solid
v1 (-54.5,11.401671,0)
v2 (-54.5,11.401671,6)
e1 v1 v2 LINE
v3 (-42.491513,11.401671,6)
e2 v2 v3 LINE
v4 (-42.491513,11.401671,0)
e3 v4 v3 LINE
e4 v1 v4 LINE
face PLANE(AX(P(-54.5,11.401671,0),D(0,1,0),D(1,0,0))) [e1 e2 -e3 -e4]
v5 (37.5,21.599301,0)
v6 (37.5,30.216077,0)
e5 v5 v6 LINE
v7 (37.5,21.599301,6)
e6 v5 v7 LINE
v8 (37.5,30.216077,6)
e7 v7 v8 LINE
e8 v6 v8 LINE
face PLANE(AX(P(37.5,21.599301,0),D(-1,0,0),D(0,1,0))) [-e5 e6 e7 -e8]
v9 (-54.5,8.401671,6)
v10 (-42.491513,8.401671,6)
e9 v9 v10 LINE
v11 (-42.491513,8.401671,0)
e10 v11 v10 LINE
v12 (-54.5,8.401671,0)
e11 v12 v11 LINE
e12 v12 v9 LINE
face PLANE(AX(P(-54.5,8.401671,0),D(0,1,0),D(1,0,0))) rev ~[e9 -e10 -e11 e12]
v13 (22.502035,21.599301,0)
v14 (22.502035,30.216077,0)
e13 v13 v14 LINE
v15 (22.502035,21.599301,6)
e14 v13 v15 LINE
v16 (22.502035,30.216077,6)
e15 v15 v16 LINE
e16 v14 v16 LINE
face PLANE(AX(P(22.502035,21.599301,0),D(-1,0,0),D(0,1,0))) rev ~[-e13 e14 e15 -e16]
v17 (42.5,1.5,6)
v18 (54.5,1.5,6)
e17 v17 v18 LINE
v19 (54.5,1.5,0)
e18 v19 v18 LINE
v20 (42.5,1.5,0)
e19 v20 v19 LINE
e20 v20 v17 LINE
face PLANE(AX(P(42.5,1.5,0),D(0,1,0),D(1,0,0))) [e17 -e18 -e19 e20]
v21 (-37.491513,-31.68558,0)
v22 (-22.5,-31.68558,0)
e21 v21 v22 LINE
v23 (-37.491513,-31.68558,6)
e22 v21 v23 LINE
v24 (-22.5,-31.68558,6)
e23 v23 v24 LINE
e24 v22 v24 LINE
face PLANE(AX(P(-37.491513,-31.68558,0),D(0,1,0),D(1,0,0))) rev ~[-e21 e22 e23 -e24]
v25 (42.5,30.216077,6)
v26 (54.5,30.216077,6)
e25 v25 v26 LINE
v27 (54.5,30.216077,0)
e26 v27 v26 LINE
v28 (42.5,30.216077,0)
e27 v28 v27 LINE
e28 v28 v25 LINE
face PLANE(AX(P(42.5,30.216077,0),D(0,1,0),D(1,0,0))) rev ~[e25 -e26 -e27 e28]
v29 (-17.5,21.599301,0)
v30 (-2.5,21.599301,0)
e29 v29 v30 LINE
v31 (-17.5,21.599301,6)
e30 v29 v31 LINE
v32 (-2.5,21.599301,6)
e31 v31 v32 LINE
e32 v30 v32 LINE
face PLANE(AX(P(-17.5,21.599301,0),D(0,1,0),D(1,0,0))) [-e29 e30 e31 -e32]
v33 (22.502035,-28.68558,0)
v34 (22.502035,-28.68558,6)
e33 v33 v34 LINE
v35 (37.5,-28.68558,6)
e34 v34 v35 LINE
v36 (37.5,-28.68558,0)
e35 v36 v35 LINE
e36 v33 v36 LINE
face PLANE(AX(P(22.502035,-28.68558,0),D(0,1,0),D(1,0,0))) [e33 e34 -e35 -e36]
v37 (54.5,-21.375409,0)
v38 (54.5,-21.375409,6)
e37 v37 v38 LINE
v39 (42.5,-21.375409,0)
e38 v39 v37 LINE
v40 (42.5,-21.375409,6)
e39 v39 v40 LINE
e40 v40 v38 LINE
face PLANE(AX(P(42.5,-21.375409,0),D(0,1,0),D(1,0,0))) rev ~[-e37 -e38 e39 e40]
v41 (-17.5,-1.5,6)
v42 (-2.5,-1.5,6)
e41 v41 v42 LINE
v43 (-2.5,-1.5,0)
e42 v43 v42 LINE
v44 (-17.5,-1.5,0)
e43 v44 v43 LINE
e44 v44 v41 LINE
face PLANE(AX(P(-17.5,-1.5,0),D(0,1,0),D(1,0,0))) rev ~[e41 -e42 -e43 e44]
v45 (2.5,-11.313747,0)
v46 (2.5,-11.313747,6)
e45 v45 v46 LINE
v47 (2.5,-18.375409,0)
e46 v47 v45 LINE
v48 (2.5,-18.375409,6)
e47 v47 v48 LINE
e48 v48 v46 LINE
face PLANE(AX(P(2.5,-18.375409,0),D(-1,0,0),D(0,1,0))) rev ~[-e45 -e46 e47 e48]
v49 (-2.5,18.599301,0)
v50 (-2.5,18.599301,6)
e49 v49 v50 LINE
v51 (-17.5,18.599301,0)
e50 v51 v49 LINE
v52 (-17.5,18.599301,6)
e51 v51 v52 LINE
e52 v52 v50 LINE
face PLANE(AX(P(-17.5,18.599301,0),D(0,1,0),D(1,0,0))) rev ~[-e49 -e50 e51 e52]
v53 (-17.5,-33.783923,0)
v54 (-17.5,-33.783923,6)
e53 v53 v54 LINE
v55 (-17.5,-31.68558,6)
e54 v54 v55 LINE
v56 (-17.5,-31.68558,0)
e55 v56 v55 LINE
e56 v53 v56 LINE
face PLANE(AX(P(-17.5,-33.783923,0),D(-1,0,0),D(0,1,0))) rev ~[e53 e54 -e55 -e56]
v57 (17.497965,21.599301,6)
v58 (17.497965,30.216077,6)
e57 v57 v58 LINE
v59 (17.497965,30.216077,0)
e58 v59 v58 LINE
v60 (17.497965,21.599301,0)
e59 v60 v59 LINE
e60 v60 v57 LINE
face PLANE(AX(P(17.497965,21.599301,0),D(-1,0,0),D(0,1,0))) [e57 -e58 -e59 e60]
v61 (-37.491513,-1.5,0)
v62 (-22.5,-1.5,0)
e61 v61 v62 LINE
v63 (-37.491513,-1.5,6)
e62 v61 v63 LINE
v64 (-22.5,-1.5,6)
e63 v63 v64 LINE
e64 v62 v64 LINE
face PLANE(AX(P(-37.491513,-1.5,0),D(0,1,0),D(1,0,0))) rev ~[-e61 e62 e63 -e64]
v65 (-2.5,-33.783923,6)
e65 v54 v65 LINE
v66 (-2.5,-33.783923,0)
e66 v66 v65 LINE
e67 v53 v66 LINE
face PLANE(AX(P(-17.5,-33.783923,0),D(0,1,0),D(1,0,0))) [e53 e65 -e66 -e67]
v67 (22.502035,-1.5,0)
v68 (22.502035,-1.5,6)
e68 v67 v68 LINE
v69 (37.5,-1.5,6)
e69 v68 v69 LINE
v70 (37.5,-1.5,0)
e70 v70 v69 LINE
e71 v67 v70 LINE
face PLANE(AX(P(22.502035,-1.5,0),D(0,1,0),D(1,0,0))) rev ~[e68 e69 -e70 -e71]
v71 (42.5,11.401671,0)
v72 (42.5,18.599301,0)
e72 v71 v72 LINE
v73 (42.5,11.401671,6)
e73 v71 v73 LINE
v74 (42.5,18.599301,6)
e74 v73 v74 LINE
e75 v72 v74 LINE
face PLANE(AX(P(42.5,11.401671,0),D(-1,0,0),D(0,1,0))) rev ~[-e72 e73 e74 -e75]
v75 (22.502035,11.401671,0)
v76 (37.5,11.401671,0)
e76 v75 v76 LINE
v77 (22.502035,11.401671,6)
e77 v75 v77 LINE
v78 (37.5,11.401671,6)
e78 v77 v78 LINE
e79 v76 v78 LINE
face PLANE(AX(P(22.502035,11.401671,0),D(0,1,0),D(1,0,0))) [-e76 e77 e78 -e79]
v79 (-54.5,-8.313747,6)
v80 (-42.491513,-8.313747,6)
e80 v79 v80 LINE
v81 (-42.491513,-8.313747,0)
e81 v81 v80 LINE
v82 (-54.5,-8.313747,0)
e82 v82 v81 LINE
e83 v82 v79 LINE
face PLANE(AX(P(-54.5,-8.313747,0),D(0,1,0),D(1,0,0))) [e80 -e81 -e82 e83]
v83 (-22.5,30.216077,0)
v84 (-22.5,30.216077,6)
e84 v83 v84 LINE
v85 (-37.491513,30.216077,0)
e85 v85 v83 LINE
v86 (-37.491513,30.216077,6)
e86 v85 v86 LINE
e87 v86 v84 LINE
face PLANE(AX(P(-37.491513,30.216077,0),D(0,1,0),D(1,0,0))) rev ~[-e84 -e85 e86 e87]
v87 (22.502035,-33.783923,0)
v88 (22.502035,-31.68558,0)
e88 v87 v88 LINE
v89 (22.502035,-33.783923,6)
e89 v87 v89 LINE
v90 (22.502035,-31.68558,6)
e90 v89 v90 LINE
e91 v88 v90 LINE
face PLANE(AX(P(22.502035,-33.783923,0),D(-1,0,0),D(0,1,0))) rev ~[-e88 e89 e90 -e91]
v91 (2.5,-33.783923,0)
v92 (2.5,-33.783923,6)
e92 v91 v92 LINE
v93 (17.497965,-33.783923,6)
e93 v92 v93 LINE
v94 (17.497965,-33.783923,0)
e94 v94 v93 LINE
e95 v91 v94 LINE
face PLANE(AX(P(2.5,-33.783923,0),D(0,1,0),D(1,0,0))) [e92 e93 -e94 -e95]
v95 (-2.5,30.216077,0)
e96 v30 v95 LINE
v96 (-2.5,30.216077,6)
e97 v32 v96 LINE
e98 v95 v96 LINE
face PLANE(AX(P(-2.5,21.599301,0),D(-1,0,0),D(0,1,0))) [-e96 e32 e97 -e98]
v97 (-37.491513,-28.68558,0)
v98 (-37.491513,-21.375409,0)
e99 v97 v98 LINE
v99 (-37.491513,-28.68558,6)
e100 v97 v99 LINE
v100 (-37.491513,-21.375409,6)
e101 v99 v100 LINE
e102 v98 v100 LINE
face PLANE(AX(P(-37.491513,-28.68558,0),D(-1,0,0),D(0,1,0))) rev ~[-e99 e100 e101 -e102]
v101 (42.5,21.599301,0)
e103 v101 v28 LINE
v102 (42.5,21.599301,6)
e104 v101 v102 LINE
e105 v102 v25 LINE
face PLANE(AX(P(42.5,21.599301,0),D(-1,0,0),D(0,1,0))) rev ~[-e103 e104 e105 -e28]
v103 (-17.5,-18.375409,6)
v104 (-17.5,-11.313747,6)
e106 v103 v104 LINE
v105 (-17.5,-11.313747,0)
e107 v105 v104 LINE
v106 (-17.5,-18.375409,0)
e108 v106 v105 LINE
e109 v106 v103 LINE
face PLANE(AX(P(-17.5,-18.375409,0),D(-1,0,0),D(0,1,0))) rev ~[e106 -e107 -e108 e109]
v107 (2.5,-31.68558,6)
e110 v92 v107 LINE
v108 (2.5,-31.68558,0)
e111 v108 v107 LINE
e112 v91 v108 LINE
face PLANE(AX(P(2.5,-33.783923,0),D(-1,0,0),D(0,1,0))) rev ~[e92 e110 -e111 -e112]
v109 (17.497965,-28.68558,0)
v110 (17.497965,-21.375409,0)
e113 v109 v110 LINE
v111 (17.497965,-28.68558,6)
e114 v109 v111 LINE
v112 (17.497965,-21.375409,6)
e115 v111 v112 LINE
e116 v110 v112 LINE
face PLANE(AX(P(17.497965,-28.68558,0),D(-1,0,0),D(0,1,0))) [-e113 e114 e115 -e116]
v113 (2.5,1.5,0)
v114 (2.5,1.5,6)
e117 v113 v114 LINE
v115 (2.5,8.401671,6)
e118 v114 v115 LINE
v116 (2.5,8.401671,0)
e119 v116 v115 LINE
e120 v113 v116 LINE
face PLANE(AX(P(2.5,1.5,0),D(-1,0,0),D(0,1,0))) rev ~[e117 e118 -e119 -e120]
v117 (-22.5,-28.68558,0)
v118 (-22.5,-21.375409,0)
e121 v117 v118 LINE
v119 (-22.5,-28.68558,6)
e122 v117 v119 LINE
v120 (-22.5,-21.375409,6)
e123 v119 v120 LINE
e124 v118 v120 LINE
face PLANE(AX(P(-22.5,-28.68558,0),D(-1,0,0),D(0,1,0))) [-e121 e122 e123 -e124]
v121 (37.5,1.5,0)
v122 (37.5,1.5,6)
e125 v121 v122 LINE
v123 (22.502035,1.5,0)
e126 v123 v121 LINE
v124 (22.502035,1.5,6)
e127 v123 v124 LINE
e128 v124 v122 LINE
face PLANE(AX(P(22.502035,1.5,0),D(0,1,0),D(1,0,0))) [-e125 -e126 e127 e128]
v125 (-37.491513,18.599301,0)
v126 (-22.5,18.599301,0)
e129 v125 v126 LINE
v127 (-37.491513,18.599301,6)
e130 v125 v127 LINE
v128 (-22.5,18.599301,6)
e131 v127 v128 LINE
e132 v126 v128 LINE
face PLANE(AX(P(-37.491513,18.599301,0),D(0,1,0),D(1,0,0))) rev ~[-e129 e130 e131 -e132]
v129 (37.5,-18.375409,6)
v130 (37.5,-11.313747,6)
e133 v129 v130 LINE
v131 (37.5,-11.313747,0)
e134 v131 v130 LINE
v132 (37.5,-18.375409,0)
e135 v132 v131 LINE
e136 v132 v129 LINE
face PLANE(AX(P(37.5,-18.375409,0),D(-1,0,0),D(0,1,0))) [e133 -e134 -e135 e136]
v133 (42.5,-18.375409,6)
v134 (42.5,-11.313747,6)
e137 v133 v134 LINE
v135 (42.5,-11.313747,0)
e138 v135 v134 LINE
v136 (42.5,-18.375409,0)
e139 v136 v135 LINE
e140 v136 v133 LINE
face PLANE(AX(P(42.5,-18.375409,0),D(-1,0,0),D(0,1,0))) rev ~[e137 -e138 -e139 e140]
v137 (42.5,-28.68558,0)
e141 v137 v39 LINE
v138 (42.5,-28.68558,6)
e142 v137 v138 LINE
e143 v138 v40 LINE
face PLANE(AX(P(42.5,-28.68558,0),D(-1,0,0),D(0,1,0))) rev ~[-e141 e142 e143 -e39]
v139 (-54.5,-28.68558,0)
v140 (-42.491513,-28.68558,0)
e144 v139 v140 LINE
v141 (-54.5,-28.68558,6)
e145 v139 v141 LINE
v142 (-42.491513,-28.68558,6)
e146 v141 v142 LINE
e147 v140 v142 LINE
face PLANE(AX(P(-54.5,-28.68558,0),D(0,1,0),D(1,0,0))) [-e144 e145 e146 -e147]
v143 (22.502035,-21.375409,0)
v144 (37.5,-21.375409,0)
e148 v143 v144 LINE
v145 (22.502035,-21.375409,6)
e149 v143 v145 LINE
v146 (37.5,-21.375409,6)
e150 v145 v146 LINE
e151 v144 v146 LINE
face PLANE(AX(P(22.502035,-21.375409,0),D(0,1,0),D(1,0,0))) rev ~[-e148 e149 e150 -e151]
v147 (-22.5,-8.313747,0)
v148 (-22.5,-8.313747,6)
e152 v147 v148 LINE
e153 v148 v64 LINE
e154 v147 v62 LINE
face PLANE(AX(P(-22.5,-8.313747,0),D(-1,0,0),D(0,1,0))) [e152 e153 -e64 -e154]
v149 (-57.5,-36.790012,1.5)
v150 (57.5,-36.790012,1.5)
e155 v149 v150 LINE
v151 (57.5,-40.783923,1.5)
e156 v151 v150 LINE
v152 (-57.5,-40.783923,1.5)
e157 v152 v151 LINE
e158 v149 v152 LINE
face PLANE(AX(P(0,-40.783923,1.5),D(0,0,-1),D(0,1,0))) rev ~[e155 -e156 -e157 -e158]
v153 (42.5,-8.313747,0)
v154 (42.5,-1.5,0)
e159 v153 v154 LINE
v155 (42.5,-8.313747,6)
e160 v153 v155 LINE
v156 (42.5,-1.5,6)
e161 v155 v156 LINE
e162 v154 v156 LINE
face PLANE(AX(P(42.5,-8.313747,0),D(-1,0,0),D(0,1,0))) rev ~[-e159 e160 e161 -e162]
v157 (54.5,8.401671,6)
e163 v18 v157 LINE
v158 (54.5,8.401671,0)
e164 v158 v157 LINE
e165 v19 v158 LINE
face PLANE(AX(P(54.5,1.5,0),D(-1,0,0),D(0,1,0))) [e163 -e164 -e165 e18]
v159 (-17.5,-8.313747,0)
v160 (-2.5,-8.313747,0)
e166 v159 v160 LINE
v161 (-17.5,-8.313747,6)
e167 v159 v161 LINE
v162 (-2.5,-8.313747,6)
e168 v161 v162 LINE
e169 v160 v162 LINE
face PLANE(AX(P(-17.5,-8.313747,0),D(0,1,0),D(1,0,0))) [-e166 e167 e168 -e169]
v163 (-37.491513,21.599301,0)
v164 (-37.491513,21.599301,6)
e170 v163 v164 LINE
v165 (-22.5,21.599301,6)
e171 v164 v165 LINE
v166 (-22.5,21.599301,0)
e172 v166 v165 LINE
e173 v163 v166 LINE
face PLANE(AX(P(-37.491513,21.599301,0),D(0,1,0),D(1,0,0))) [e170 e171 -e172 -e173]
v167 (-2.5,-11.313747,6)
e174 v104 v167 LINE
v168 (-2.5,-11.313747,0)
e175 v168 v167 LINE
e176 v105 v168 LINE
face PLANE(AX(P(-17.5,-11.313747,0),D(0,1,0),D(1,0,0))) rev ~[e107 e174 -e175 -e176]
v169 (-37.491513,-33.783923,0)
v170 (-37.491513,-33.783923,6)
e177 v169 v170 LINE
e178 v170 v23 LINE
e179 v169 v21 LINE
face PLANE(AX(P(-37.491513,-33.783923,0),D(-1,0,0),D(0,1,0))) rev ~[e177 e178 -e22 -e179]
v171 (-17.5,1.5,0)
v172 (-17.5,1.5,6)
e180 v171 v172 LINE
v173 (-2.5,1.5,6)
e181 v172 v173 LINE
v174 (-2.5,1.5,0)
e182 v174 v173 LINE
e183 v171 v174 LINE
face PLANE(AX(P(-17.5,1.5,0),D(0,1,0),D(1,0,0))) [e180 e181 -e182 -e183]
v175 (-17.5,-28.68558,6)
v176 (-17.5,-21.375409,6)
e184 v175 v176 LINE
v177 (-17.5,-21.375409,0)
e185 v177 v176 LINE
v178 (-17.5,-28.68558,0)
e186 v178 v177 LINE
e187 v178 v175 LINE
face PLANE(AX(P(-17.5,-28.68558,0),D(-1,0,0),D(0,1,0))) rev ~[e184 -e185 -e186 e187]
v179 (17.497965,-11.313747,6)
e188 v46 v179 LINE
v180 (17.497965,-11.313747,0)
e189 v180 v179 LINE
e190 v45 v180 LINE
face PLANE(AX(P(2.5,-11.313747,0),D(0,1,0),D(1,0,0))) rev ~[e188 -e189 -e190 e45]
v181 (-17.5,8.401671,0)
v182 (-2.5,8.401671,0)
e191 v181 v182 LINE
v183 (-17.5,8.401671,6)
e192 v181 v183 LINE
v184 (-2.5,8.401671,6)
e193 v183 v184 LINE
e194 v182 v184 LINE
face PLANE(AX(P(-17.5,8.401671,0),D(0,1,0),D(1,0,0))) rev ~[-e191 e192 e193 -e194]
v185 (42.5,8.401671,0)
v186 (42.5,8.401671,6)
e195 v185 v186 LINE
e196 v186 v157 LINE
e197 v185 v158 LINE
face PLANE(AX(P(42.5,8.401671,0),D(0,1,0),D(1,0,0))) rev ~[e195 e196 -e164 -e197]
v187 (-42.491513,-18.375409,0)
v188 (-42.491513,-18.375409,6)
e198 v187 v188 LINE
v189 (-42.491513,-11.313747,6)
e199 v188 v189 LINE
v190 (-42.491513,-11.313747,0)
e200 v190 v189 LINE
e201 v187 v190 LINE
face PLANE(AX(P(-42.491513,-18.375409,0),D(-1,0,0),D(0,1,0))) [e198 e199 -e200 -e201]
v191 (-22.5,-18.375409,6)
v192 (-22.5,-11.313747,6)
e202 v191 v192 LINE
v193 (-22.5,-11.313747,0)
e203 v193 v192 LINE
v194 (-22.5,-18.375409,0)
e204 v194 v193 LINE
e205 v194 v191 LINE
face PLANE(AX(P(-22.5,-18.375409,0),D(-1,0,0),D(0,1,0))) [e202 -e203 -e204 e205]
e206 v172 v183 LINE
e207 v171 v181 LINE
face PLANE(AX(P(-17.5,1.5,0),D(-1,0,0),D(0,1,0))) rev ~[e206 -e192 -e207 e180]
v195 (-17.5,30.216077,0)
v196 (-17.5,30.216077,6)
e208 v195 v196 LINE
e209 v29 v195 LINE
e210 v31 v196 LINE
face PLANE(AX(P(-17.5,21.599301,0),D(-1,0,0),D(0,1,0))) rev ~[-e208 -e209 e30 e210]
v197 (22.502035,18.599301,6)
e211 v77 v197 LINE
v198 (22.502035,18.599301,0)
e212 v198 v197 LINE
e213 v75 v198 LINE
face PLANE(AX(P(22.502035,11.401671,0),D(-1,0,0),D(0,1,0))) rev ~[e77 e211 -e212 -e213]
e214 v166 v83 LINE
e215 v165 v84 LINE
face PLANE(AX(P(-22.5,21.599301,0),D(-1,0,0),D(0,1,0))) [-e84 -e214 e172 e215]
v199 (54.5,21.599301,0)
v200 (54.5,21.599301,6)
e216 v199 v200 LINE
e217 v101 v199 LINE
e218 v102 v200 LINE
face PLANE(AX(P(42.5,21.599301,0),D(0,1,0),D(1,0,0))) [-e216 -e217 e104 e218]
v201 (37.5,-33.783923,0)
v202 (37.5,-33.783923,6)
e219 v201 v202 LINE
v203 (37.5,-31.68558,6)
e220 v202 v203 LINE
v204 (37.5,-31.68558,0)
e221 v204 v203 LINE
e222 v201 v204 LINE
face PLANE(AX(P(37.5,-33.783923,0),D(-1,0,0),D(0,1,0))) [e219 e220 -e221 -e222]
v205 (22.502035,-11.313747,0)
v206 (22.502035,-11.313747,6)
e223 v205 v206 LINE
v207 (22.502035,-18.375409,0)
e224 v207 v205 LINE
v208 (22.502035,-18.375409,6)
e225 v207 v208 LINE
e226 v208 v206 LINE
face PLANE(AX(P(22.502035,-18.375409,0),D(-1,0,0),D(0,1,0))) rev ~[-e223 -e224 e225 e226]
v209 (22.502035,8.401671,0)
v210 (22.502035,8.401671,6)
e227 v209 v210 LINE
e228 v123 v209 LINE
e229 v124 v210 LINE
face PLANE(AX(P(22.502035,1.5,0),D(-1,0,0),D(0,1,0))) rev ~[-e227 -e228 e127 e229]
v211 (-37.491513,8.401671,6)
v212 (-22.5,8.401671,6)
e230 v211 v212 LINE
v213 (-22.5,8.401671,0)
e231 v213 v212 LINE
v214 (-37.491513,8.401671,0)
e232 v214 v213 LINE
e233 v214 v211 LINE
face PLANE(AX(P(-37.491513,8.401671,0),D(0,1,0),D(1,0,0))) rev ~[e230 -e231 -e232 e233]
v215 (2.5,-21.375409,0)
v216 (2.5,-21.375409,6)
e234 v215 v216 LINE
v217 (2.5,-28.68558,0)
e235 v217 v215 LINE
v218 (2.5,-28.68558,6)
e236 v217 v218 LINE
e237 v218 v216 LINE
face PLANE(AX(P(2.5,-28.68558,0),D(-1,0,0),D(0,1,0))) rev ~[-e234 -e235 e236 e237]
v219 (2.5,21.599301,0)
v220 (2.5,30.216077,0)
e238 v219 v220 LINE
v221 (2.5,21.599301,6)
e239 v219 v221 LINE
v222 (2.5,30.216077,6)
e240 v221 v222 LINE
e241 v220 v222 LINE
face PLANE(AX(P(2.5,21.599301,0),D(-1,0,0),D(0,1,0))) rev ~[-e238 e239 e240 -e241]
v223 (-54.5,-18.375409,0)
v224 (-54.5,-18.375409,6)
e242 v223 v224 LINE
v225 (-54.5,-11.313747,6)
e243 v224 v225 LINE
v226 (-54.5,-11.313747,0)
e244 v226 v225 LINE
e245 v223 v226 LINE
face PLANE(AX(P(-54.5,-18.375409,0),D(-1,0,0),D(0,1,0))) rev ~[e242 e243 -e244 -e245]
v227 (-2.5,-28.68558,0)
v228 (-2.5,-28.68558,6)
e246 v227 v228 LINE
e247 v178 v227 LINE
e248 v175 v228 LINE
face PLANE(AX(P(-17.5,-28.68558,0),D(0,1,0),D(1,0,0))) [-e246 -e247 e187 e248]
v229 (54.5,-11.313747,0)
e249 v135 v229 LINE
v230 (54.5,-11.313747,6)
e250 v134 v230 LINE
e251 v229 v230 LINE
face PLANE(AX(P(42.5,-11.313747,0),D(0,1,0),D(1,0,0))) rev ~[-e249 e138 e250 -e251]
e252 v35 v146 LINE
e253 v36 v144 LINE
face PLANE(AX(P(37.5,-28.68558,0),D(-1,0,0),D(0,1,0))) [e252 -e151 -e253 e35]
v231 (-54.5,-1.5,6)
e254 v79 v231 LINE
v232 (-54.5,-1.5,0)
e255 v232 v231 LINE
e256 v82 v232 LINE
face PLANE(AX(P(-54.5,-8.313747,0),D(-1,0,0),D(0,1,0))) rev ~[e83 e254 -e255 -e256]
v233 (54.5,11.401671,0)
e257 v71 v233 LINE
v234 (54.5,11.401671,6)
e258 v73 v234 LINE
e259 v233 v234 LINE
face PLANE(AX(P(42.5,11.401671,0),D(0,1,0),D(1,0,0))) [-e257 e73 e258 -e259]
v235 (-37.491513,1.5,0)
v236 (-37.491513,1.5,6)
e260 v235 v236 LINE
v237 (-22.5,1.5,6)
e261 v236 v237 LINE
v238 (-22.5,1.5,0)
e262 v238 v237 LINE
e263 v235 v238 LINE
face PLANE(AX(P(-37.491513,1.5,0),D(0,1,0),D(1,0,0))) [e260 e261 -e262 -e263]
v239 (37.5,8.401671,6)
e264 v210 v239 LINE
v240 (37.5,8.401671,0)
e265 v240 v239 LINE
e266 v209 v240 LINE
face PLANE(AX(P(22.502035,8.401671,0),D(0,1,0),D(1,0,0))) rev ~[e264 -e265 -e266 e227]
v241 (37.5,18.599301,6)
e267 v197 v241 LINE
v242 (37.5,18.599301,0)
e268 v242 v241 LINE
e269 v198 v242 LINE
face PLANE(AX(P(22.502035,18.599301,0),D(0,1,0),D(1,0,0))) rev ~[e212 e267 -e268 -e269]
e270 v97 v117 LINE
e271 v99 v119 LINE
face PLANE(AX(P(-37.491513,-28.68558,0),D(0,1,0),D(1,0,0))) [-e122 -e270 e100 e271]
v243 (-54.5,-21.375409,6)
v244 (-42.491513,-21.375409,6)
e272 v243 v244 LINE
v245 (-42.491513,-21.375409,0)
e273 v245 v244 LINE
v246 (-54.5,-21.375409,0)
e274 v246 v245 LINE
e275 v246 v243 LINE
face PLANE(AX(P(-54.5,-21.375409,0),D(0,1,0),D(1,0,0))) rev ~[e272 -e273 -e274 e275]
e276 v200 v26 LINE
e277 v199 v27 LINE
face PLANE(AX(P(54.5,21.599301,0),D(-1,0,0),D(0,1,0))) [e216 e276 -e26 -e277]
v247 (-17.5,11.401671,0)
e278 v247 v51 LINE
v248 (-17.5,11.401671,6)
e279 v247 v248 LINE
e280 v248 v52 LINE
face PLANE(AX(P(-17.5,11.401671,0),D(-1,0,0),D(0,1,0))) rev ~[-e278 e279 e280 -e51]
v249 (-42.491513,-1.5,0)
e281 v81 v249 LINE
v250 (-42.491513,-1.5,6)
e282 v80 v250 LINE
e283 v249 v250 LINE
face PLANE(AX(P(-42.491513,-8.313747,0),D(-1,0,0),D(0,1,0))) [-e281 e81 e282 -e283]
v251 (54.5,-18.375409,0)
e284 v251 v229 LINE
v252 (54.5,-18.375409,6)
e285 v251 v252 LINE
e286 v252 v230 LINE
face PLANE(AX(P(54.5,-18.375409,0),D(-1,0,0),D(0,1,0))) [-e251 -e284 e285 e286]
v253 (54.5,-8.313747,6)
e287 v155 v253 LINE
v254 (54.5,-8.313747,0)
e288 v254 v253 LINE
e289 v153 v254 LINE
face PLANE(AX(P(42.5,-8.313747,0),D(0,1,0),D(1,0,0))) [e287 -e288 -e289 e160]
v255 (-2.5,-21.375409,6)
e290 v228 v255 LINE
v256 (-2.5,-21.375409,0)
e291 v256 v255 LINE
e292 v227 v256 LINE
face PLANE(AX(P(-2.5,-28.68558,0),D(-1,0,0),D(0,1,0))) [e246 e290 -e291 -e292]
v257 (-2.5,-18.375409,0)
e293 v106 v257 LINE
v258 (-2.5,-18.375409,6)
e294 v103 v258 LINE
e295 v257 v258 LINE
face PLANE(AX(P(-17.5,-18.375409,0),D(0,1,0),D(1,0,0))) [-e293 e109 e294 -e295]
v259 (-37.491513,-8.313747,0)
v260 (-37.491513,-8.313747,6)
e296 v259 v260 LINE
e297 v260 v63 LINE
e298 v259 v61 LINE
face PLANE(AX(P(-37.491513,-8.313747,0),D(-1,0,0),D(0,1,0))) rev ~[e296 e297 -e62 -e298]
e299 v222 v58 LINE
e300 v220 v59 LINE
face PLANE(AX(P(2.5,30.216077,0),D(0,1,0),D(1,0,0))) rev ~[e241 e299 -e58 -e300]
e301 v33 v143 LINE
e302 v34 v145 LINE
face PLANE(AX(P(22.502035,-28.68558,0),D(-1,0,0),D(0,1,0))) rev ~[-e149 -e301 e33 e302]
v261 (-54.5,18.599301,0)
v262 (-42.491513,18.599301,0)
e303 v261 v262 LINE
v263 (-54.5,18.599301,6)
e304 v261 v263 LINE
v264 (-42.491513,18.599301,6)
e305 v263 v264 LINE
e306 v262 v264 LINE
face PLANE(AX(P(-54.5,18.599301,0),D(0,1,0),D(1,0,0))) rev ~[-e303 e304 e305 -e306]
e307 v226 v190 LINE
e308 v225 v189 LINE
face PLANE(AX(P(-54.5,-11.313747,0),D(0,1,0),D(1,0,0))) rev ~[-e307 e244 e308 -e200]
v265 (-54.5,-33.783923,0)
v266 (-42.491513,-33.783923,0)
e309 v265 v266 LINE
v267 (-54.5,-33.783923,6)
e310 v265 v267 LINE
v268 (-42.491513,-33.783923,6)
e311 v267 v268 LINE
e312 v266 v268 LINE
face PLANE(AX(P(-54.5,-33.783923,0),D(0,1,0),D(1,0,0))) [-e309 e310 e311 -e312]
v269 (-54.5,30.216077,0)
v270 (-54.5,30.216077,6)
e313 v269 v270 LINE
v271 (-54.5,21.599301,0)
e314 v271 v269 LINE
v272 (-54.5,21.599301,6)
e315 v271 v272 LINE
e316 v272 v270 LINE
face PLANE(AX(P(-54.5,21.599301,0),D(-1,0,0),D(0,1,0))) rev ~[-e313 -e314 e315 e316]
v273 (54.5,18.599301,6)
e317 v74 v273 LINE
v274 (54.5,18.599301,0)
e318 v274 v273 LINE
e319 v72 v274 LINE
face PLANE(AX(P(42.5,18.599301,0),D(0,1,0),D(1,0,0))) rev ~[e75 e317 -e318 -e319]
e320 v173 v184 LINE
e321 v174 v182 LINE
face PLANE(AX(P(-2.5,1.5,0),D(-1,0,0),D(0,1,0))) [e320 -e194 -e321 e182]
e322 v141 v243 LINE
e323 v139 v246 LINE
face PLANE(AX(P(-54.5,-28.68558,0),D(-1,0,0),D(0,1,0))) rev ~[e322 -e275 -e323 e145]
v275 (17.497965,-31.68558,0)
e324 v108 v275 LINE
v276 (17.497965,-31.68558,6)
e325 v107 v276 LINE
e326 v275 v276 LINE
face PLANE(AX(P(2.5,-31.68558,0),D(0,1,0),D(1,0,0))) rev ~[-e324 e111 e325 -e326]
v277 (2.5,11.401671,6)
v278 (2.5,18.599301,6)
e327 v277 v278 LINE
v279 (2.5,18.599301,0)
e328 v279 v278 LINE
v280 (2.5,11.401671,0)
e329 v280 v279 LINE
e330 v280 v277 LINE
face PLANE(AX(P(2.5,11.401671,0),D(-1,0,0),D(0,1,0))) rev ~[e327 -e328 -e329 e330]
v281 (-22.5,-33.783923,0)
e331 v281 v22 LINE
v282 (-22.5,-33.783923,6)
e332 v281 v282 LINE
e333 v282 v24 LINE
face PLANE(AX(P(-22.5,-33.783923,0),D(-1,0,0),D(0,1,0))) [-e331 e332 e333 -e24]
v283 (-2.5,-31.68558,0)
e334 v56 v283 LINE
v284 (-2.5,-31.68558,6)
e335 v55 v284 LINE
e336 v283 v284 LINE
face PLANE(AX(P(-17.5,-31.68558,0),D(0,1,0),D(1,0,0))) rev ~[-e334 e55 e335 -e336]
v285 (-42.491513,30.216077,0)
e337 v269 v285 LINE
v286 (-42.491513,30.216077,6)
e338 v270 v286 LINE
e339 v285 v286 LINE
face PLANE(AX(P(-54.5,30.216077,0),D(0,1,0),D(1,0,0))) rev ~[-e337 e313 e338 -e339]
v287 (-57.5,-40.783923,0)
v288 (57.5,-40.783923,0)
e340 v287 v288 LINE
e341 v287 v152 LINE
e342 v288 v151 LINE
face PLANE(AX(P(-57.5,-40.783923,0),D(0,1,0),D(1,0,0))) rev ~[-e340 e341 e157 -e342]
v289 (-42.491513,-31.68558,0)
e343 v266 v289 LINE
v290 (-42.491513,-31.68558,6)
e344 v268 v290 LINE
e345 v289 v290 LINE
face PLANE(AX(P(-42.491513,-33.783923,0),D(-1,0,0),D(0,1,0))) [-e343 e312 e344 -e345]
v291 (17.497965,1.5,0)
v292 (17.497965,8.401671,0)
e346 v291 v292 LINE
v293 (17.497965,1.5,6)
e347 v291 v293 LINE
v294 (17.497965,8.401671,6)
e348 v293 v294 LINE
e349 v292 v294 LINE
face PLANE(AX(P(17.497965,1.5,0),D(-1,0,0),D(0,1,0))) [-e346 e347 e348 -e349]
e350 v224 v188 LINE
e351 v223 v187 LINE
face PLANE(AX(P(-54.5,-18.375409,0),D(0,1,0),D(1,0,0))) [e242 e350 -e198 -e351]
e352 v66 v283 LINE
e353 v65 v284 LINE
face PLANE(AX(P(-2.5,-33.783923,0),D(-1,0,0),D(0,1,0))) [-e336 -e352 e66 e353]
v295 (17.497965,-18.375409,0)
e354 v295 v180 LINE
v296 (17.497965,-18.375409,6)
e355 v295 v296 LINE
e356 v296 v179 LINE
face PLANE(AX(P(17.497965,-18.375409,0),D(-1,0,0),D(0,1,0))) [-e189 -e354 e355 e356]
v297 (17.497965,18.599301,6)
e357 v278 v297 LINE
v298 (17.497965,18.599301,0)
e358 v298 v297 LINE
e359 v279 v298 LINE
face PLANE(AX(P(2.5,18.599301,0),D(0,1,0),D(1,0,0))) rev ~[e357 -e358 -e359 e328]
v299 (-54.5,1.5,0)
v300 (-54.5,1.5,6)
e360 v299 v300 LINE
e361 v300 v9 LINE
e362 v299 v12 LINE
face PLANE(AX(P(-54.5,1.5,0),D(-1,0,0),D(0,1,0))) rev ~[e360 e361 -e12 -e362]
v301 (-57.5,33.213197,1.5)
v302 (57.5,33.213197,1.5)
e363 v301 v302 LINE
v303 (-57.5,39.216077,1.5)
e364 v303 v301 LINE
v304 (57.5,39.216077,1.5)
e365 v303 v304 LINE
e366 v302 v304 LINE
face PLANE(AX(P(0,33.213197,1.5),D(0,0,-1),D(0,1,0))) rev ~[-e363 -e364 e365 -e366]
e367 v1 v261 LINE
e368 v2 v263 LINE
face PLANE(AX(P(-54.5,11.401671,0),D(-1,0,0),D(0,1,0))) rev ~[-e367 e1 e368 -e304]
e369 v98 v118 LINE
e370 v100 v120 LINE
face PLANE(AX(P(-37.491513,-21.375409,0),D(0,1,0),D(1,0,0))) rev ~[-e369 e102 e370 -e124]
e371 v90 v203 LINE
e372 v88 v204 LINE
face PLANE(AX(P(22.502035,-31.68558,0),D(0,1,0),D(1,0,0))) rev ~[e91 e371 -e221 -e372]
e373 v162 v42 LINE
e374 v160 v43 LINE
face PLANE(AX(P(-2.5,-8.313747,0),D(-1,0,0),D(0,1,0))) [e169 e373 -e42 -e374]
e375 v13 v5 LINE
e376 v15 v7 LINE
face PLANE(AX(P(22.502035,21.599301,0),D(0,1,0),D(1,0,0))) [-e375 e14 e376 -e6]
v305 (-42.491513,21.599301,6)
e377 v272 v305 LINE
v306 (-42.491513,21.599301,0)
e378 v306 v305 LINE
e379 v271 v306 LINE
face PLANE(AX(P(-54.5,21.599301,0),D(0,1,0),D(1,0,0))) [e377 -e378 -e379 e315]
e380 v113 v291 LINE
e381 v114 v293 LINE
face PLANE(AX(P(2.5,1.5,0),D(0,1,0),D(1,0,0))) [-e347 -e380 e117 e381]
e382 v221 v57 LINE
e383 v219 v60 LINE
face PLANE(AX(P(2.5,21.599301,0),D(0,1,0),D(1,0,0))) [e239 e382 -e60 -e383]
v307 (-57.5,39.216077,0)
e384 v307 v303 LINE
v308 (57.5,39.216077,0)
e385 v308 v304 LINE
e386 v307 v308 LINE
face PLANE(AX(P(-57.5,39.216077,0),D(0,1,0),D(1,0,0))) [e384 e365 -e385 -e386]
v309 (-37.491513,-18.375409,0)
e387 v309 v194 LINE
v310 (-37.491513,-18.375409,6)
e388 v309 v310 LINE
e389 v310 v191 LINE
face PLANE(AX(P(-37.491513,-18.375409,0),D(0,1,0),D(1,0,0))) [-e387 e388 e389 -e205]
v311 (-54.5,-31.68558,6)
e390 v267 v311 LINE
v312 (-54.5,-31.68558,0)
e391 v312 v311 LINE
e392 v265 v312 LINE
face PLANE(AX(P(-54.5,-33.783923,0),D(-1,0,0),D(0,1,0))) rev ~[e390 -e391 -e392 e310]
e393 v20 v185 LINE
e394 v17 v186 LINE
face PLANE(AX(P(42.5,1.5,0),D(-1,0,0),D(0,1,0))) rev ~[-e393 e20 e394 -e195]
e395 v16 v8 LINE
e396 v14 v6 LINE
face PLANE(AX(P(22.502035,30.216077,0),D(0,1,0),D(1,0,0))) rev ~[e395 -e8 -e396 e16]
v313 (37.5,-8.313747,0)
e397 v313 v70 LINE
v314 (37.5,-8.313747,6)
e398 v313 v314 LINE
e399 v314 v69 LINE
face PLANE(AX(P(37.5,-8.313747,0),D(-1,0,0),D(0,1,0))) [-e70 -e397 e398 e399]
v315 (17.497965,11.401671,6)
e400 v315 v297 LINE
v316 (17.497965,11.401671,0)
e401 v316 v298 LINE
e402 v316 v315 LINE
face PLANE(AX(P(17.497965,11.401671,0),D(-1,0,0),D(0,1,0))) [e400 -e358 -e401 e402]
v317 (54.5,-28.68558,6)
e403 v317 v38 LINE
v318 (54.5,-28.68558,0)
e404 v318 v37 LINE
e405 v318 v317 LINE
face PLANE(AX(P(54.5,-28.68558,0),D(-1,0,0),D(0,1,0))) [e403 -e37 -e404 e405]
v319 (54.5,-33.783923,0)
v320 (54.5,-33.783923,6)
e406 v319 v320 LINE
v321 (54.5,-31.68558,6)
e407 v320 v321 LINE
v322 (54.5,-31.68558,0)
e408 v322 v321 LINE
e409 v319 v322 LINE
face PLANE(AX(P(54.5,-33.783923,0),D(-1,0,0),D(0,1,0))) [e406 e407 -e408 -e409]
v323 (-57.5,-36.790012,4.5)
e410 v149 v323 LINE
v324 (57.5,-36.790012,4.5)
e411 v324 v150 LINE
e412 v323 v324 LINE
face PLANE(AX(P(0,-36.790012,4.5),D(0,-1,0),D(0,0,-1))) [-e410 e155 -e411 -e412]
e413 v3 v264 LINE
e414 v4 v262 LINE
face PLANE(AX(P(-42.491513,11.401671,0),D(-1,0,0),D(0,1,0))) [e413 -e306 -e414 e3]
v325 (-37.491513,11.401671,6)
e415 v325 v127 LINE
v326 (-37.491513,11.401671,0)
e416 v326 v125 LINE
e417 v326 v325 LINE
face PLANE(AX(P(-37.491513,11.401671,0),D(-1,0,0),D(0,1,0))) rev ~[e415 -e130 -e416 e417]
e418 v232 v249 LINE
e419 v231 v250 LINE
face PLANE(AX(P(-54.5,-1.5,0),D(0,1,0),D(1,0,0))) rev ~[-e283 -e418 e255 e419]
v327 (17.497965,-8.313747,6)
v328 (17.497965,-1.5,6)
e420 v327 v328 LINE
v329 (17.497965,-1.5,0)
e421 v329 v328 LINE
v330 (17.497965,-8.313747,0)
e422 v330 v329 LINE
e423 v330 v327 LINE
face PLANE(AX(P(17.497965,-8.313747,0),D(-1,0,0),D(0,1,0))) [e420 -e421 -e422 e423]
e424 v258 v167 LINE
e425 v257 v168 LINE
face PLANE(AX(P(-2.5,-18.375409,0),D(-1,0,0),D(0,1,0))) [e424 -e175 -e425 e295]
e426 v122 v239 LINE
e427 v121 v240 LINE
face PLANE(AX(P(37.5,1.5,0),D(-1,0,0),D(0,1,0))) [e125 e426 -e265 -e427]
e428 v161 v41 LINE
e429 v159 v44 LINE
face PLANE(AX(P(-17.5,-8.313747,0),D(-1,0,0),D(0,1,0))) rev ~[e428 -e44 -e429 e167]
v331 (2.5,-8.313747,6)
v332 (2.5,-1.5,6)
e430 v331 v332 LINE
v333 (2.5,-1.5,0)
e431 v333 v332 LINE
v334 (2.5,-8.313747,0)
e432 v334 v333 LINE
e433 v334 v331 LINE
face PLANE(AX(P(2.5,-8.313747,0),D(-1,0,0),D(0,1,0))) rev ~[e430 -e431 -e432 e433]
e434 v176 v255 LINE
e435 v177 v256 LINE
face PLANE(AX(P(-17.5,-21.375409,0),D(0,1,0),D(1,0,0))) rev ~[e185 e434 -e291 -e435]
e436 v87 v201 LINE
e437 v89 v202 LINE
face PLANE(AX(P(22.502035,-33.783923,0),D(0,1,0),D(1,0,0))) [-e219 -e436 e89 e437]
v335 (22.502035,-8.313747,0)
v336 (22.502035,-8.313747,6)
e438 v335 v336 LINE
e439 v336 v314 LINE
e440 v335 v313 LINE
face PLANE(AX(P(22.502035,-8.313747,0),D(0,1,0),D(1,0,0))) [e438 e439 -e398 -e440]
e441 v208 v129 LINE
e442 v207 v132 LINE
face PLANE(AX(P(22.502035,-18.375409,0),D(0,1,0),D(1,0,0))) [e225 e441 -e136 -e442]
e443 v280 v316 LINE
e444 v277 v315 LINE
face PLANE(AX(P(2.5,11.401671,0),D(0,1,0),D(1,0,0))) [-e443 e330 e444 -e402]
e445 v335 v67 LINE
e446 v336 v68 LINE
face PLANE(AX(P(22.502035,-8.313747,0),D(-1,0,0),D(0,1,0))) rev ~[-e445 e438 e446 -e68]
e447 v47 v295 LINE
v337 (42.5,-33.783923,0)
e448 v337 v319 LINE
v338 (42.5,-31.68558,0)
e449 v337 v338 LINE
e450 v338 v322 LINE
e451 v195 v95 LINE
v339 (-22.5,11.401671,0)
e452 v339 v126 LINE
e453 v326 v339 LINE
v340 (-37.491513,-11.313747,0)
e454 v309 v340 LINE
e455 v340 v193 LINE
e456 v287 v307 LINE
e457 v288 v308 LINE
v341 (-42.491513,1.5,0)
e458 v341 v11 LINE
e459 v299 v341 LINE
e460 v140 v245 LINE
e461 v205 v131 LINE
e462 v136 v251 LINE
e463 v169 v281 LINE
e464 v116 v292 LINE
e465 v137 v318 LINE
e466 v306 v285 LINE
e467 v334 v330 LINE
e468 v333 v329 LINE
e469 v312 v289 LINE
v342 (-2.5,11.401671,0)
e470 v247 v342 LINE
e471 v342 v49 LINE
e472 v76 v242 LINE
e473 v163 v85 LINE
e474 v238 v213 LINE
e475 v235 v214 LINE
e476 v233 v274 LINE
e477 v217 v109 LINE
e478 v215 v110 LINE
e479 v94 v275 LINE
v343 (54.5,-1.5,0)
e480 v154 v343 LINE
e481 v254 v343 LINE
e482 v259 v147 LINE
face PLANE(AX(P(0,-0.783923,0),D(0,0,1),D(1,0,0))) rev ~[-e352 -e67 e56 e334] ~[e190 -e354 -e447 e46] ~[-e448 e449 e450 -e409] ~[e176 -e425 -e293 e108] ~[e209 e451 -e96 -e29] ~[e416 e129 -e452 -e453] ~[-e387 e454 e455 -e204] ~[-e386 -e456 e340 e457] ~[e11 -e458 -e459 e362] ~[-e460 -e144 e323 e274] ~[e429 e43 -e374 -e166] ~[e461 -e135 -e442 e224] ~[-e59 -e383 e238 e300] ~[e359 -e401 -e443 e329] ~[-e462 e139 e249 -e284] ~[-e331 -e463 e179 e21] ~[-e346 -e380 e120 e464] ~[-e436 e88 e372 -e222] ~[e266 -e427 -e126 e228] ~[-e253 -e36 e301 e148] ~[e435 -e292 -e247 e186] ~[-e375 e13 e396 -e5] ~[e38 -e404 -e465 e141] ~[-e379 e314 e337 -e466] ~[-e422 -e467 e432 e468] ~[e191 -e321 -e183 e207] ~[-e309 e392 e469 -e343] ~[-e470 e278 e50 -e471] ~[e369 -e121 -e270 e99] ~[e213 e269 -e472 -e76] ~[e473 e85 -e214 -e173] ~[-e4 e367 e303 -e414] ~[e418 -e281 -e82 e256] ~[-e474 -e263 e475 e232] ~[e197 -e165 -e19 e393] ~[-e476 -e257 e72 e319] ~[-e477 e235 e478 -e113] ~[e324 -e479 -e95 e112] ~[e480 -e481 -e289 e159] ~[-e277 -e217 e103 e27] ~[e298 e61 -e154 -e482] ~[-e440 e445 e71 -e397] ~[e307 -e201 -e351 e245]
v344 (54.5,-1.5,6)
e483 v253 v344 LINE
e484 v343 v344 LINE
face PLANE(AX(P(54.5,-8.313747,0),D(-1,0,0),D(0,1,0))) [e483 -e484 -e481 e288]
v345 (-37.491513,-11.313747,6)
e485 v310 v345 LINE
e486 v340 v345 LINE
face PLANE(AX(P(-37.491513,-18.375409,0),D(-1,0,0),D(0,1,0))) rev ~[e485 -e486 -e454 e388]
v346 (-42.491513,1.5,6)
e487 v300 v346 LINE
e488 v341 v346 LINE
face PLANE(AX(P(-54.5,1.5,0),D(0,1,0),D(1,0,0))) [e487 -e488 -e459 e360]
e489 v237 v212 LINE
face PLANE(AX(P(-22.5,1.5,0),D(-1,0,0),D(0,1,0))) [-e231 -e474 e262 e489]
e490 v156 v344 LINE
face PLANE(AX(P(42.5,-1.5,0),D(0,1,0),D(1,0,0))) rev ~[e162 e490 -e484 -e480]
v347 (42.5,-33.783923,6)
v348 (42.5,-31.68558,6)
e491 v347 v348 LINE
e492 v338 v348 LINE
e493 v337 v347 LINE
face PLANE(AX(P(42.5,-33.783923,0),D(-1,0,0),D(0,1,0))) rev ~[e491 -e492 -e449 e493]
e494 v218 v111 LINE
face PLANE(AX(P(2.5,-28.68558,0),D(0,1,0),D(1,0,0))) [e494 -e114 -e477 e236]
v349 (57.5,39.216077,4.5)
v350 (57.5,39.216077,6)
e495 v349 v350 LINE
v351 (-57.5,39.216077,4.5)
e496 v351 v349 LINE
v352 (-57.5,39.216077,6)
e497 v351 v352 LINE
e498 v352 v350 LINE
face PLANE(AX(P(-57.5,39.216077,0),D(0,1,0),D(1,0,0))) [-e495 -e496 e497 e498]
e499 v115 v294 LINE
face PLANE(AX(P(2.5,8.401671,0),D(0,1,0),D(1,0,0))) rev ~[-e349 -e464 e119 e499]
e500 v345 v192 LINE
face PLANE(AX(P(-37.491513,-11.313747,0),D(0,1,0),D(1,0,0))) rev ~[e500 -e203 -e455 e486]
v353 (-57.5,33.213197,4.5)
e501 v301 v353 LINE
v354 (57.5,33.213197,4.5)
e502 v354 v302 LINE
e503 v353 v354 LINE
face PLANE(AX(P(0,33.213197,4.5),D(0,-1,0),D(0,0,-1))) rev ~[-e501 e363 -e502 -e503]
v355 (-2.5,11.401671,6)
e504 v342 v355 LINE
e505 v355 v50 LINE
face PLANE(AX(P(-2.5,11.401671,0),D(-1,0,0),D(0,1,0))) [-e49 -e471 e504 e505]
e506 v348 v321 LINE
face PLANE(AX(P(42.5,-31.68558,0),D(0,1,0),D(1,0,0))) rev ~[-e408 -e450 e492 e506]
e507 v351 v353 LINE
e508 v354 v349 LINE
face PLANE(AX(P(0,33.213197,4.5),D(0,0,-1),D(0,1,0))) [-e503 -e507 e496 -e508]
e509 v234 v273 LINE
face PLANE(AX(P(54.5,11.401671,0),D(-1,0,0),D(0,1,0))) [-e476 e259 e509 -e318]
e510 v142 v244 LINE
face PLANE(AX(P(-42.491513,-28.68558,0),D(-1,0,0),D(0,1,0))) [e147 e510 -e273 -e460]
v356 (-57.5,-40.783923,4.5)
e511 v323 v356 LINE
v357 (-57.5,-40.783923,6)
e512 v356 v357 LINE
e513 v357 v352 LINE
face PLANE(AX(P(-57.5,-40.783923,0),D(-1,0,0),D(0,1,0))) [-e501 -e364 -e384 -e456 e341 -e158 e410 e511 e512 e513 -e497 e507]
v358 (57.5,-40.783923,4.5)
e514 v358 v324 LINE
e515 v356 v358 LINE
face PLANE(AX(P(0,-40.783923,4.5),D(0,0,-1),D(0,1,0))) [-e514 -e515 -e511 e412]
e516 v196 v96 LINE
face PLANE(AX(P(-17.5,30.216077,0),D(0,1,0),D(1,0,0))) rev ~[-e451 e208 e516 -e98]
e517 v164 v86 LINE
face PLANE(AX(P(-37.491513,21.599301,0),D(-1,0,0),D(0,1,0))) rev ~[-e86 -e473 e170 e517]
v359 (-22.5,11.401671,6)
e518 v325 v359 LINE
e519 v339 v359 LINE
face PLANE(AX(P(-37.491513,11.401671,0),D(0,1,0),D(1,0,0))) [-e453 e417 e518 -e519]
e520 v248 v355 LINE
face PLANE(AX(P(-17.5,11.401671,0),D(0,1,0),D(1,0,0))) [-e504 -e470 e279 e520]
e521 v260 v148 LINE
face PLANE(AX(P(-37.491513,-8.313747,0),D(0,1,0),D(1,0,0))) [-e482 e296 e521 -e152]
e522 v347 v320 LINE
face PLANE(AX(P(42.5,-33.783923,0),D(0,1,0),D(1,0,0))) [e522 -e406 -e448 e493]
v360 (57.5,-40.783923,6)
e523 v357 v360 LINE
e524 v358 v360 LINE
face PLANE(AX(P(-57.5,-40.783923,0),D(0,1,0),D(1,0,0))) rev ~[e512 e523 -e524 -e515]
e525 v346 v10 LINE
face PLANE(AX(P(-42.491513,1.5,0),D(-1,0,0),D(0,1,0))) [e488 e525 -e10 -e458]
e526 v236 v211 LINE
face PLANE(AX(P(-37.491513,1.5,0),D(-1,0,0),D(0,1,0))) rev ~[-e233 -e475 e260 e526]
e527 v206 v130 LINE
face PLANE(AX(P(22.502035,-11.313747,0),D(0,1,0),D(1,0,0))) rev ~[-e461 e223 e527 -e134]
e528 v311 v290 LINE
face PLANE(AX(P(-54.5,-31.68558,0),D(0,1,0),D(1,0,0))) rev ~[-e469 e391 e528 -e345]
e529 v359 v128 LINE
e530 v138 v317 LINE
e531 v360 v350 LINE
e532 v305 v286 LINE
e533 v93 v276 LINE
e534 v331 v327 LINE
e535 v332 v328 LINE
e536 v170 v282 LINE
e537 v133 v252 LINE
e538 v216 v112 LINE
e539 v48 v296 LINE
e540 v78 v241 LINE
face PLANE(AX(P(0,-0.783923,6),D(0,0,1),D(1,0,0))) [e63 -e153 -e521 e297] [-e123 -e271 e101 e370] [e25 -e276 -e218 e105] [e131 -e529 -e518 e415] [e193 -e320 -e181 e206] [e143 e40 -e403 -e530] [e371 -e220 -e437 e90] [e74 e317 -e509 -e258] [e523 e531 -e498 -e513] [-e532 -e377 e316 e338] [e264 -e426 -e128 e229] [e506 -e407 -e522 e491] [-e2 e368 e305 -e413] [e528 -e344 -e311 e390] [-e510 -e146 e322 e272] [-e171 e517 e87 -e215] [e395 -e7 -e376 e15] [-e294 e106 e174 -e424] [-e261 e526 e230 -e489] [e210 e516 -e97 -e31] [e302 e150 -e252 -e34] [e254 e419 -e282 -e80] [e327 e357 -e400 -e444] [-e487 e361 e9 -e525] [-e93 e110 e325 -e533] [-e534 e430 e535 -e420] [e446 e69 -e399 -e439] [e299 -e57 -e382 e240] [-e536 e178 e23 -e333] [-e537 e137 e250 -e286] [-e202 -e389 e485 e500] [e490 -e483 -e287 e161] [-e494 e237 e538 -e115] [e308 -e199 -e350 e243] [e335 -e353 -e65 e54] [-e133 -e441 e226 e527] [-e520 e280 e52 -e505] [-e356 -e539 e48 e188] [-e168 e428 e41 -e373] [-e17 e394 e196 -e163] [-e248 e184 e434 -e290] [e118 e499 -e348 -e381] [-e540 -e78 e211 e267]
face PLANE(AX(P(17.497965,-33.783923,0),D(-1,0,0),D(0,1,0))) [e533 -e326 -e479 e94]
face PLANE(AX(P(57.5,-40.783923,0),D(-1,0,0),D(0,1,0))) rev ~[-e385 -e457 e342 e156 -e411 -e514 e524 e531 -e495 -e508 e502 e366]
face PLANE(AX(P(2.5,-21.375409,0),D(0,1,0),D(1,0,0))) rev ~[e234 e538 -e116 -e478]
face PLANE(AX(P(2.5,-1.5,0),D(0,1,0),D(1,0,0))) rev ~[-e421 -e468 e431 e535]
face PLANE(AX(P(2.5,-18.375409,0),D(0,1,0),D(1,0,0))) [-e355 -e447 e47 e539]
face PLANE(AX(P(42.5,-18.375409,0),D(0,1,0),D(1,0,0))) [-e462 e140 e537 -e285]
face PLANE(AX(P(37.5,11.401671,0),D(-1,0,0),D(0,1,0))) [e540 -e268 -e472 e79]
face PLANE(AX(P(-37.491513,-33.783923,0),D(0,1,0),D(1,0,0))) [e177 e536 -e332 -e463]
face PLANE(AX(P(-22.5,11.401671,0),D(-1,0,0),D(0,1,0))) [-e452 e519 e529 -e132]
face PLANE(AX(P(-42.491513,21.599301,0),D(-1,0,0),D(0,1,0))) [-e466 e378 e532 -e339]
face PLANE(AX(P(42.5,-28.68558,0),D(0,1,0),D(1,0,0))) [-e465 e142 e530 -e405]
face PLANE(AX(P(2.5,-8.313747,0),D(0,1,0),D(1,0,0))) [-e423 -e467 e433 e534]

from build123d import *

# Parameters (mm, degrees)
ESBO_O1_W                  = 115
ESBO_O1_H                  = 80
ESBO_O1_W_2                = 12.008486519
ESBO_O1_H_2                = 2.098343741
ESBO_O1_W_3                = 14.991513481
ESBO_O1_H_3                = 7.310170624
ESBO_O1_W_4                = 15
ESBO_O1_H_4                = 7.061661657
ESBO_O1_H_5                = 6.81374745
ESBO_O1_W_5                = 14.997964619
ESBO_O1_W_6                = 12
ESBO_O1_H_6                = 6.901670661
ESBO_O1_H_7                = 7.197630057
ESBO_O1_H_8                = 8.61677581
RESSALTO_EXTRUS_O1_DEPTH   = 6
ESBO_O2_W                  = 3
ESBO_O2_H                  = 3.99391125
ESBO_O2_H_2                = 6.002879156
CORTE_EXTRUS_O1_DEPTH      = 58.5
CORTE_EXTRUS_O1_DEPTH_BACK = 58.5


with BuildPart() as part:
    # Esboço1 → Ressalto-extrusão1 (new body)
    with BuildSketch(Plane.XY):
        with Locations((0, -0.783923472)):
            Rectangle(ESBO_O1_W, ESBO_O1_H)
        with Locations((-48.49575674, -32.734751602)):
            Rectangle(ESBO_O1_W_2, ESBO_O1_H_2, mode=Mode.SUBTRACT)
        with Locations((-29.995756741, -32.734751602)):
            Rectangle(ESBO_O1_W_3, ESBO_O1_H_2, mode=Mode.SUBTRACT)
        with Locations((-48.49575674, -25.030494419)):
            Rectangle(ESBO_O1_W_2, ESBO_O1_H_3, mode=Mode.SUBTRACT)
        with Locations((-29.995756741, -25.030494419)):
            Rectangle(ESBO_O1_W_3, ESBO_O1_H_3, mode=Mode.SUBTRACT)
        with Locations((-10, -32.734751602)):
            Rectangle(ESBO_O1_W_4, ESBO_O1_H_2, mode=Mode.SUBTRACT)
        with Locations((-10, -25.030494419)):
            Rectangle(ESBO_O1_W_4, ESBO_O1_H_3, mode=Mode.SUBTRACT)
        with Locations((-48.49575674, -14.844578279)):
            Rectangle(ESBO_O1_W_2, ESBO_O1_H_4, mode=Mode.SUBTRACT)
        with Locations((-29.995756741, -14.844578279)):
            Rectangle(ESBO_O1_W_3, ESBO_O1_H_4, mode=Mode.SUBTRACT)
        with Locations((-48.49575674, -4.906873725)):
            Rectangle(ESBO_O1_W_2, ESBO_O1_H_5, mode=Mode.SUBTRACT)
        with Locations((-29.995756741, -4.906873725)):
            Rectangle(ESBO_O1_W_3, ESBO_O1_H_5, mode=Mode.SUBTRACT)
        with Locations((-10, -14.844578279)):
            Rectangle(ESBO_O1_W_4, ESBO_O1_H_4, mode=Mode.SUBTRACT)
        with Locations((-10, -4.906873725)):
            Rectangle(ESBO_O1_W_4, ESBO_O1_H_5, mode=Mode.SUBTRACT)
        with Locations((9.99898231, -32.734751602)):
            Rectangle(ESBO_O1_W_5, ESBO_O1_H_2, mode=Mode.SUBTRACT)
        with Locations((9.99898231, -25.030494419)):
            Rectangle(ESBO_O1_W_5, ESBO_O1_H_3, mode=Mode.SUBTRACT)
        with Locations((30.00101769, -32.734751602)):
            Rectangle(ESBO_O1_W_5, ESBO_O1_H_2, mode=Mode.SUBTRACT)
        with Locations((48.5, -32.734751602)):
            Rectangle(ESBO_O1_W_6, ESBO_O1_H_2, mode=Mode.SUBTRACT)
        with Locations((30.00101769, -25.030494419)):
            Rectangle(ESBO_O1_W_5, ESBO_O1_H_3, mode=Mode.SUBTRACT)
        with Locations((48.5, -25.030494419)):
            Rectangle(ESBO_O1_W_6, ESBO_O1_H_3, mode=Mode.SUBTRACT)
        with Locations((9.99898231, -14.844578279)):
            Rectangle(ESBO_O1_W_5, ESBO_O1_H_4, mode=Mode.SUBTRACT)
        with Locations((9.99898231, -4.906873725)):
            Rectangle(ESBO_O1_W_5, ESBO_O1_H_5, mode=Mode.SUBTRACT)
        with Locations((30.00101769, -14.844578279)):
            Rectangle(ESBO_O1_W_5, ESBO_O1_H_4, mode=Mode.SUBTRACT)
        with Locations((48.5, -14.844578279)):
            Rectangle(ESBO_O1_W_6, ESBO_O1_H_4, mode=Mode.SUBTRACT)
        with Locations((30.00101769, -4.906873725)):
            Rectangle(ESBO_O1_W_5, ESBO_O1_H_5, mode=Mode.SUBTRACT)
        with Locations((48.5, -4.906873725)):
            Rectangle(ESBO_O1_W_6, ESBO_O1_H_5, mode=Mode.SUBTRACT)
        with Locations((-48.49575674, 4.950835331)):
            Rectangle(ESBO_O1_W_2, ESBO_O1_H_6, mode=Mode.SUBTRACT)
        with Locations((-29.995756741, 4.950835331)):
            Rectangle(ESBO_O1_W_3, ESBO_O1_H_6, mode=Mode.SUBTRACT)
        with Locations((-10, 4.950835331)):
            Rectangle(ESBO_O1_W_4, ESBO_O1_H_6, mode=Mode.SUBTRACT)
        with Locations((-48.49575674, 15.00048569)):
            Rectangle(ESBO_O1_W_2, ESBO_O1_H_7, mode=Mode.SUBTRACT)
        with Locations((-29.995756741, 15.00048569)):
            Rectangle(ESBO_O1_W_3, ESBO_O1_H_7, mode=Mode.SUBTRACT)
        with Locations((-48.49575674, 25.907688623)):
            Rectangle(ESBO_O1_W_2, ESBO_O1_H_8, mode=Mode.SUBTRACT)
        with Locations((-29.995756741, 25.907688623)):
            Rectangle(ESBO_O1_W_3, ESBO_O1_H_8, mode=Mode.SUBTRACT)
        with Locations((-10, 15.00048569)):
            Rectangle(ESBO_O1_W_4, ESBO_O1_H_7, mode=Mode.SUBTRACT)
        with Locations((-10, 25.907688623)):
            Rectangle(ESBO_O1_W_4, ESBO_O1_H_8, mode=Mode.SUBTRACT)
        with Locations((9.99898231, 4.950835331)):
            Rectangle(ESBO_O1_W_5, ESBO_O1_H_6, mode=Mode.SUBTRACT)
        with Locations((30.00101769, 4.950835331)):
            Rectangle(ESBO_O1_W_5, ESBO_O1_H_6, mode=Mode.SUBTRACT)
        with Locations((48.5, 4.950835331)):
            Rectangle(ESBO_O1_W_6, ESBO_O1_H_6, mode=Mode.SUBTRACT)
        with Locations((9.99898231, 15.00048569)):
            Rectangle(ESBO_O1_W_5, ESBO_O1_H_7, mode=Mode.SUBTRACT)
        with Locations((9.99898231, 25.907688623)):
            Rectangle(ESBO_O1_W_5, ESBO_O1_H_8, mode=Mode.SUBTRACT)
        with Locations((30.00101769, 15.00048569)):
            Rectangle(ESBO_O1_W_5, ESBO_O1_H_7, mode=Mode.SUBTRACT)
        with Locations((48.5, 15.00048569)):
            Rectangle(ESBO_O1_W_6, ESBO_O1_H_7, mode=Mode.SUBTRACT)
        with Locations((30.00101769, 25.907688623)):
            Rectangle(ESBO_O1_W_5, ESBO_O1_H_8, mode=Mode.SUBTRACT)
        with Locations((48.5, 25.907688623)):
            Rectangle(ESBO_O1_W_6, ESBO_O1_H_8, mode=Mode.SUBTRACT)
    extrude(amount=RESSALTO_EXTRUS_O1_DEPTH)

    # Esboço2 → Corte-extrusão1 (cut, two sides)
    with BuildSketch(Plane(origin=(0, 0, 0), x_dir=(0, 0, -1), z_dir=(1, 0, 0))) as corte_extrus_o1_sk:
        with Locations((-3, -38.786967847)):
            Rectangle(ESBO_O2_W, ESBO_O2_H)
        with Locations((-3, 36.21463695)):
            Rectangle(ESBO_O2_W, ESBO_O2_H_2)
    extrude(amount=CORTE_EXTRUS_O1_DEPTH, mode=Mode.SUBTRACT)
    extrude(corte_extrus_o1_sk.sketch, amount=-CORTE_EXTRUS_O1_DEPTH_BACK, mode=Mode.SUBTRACT)


solid = part.part
